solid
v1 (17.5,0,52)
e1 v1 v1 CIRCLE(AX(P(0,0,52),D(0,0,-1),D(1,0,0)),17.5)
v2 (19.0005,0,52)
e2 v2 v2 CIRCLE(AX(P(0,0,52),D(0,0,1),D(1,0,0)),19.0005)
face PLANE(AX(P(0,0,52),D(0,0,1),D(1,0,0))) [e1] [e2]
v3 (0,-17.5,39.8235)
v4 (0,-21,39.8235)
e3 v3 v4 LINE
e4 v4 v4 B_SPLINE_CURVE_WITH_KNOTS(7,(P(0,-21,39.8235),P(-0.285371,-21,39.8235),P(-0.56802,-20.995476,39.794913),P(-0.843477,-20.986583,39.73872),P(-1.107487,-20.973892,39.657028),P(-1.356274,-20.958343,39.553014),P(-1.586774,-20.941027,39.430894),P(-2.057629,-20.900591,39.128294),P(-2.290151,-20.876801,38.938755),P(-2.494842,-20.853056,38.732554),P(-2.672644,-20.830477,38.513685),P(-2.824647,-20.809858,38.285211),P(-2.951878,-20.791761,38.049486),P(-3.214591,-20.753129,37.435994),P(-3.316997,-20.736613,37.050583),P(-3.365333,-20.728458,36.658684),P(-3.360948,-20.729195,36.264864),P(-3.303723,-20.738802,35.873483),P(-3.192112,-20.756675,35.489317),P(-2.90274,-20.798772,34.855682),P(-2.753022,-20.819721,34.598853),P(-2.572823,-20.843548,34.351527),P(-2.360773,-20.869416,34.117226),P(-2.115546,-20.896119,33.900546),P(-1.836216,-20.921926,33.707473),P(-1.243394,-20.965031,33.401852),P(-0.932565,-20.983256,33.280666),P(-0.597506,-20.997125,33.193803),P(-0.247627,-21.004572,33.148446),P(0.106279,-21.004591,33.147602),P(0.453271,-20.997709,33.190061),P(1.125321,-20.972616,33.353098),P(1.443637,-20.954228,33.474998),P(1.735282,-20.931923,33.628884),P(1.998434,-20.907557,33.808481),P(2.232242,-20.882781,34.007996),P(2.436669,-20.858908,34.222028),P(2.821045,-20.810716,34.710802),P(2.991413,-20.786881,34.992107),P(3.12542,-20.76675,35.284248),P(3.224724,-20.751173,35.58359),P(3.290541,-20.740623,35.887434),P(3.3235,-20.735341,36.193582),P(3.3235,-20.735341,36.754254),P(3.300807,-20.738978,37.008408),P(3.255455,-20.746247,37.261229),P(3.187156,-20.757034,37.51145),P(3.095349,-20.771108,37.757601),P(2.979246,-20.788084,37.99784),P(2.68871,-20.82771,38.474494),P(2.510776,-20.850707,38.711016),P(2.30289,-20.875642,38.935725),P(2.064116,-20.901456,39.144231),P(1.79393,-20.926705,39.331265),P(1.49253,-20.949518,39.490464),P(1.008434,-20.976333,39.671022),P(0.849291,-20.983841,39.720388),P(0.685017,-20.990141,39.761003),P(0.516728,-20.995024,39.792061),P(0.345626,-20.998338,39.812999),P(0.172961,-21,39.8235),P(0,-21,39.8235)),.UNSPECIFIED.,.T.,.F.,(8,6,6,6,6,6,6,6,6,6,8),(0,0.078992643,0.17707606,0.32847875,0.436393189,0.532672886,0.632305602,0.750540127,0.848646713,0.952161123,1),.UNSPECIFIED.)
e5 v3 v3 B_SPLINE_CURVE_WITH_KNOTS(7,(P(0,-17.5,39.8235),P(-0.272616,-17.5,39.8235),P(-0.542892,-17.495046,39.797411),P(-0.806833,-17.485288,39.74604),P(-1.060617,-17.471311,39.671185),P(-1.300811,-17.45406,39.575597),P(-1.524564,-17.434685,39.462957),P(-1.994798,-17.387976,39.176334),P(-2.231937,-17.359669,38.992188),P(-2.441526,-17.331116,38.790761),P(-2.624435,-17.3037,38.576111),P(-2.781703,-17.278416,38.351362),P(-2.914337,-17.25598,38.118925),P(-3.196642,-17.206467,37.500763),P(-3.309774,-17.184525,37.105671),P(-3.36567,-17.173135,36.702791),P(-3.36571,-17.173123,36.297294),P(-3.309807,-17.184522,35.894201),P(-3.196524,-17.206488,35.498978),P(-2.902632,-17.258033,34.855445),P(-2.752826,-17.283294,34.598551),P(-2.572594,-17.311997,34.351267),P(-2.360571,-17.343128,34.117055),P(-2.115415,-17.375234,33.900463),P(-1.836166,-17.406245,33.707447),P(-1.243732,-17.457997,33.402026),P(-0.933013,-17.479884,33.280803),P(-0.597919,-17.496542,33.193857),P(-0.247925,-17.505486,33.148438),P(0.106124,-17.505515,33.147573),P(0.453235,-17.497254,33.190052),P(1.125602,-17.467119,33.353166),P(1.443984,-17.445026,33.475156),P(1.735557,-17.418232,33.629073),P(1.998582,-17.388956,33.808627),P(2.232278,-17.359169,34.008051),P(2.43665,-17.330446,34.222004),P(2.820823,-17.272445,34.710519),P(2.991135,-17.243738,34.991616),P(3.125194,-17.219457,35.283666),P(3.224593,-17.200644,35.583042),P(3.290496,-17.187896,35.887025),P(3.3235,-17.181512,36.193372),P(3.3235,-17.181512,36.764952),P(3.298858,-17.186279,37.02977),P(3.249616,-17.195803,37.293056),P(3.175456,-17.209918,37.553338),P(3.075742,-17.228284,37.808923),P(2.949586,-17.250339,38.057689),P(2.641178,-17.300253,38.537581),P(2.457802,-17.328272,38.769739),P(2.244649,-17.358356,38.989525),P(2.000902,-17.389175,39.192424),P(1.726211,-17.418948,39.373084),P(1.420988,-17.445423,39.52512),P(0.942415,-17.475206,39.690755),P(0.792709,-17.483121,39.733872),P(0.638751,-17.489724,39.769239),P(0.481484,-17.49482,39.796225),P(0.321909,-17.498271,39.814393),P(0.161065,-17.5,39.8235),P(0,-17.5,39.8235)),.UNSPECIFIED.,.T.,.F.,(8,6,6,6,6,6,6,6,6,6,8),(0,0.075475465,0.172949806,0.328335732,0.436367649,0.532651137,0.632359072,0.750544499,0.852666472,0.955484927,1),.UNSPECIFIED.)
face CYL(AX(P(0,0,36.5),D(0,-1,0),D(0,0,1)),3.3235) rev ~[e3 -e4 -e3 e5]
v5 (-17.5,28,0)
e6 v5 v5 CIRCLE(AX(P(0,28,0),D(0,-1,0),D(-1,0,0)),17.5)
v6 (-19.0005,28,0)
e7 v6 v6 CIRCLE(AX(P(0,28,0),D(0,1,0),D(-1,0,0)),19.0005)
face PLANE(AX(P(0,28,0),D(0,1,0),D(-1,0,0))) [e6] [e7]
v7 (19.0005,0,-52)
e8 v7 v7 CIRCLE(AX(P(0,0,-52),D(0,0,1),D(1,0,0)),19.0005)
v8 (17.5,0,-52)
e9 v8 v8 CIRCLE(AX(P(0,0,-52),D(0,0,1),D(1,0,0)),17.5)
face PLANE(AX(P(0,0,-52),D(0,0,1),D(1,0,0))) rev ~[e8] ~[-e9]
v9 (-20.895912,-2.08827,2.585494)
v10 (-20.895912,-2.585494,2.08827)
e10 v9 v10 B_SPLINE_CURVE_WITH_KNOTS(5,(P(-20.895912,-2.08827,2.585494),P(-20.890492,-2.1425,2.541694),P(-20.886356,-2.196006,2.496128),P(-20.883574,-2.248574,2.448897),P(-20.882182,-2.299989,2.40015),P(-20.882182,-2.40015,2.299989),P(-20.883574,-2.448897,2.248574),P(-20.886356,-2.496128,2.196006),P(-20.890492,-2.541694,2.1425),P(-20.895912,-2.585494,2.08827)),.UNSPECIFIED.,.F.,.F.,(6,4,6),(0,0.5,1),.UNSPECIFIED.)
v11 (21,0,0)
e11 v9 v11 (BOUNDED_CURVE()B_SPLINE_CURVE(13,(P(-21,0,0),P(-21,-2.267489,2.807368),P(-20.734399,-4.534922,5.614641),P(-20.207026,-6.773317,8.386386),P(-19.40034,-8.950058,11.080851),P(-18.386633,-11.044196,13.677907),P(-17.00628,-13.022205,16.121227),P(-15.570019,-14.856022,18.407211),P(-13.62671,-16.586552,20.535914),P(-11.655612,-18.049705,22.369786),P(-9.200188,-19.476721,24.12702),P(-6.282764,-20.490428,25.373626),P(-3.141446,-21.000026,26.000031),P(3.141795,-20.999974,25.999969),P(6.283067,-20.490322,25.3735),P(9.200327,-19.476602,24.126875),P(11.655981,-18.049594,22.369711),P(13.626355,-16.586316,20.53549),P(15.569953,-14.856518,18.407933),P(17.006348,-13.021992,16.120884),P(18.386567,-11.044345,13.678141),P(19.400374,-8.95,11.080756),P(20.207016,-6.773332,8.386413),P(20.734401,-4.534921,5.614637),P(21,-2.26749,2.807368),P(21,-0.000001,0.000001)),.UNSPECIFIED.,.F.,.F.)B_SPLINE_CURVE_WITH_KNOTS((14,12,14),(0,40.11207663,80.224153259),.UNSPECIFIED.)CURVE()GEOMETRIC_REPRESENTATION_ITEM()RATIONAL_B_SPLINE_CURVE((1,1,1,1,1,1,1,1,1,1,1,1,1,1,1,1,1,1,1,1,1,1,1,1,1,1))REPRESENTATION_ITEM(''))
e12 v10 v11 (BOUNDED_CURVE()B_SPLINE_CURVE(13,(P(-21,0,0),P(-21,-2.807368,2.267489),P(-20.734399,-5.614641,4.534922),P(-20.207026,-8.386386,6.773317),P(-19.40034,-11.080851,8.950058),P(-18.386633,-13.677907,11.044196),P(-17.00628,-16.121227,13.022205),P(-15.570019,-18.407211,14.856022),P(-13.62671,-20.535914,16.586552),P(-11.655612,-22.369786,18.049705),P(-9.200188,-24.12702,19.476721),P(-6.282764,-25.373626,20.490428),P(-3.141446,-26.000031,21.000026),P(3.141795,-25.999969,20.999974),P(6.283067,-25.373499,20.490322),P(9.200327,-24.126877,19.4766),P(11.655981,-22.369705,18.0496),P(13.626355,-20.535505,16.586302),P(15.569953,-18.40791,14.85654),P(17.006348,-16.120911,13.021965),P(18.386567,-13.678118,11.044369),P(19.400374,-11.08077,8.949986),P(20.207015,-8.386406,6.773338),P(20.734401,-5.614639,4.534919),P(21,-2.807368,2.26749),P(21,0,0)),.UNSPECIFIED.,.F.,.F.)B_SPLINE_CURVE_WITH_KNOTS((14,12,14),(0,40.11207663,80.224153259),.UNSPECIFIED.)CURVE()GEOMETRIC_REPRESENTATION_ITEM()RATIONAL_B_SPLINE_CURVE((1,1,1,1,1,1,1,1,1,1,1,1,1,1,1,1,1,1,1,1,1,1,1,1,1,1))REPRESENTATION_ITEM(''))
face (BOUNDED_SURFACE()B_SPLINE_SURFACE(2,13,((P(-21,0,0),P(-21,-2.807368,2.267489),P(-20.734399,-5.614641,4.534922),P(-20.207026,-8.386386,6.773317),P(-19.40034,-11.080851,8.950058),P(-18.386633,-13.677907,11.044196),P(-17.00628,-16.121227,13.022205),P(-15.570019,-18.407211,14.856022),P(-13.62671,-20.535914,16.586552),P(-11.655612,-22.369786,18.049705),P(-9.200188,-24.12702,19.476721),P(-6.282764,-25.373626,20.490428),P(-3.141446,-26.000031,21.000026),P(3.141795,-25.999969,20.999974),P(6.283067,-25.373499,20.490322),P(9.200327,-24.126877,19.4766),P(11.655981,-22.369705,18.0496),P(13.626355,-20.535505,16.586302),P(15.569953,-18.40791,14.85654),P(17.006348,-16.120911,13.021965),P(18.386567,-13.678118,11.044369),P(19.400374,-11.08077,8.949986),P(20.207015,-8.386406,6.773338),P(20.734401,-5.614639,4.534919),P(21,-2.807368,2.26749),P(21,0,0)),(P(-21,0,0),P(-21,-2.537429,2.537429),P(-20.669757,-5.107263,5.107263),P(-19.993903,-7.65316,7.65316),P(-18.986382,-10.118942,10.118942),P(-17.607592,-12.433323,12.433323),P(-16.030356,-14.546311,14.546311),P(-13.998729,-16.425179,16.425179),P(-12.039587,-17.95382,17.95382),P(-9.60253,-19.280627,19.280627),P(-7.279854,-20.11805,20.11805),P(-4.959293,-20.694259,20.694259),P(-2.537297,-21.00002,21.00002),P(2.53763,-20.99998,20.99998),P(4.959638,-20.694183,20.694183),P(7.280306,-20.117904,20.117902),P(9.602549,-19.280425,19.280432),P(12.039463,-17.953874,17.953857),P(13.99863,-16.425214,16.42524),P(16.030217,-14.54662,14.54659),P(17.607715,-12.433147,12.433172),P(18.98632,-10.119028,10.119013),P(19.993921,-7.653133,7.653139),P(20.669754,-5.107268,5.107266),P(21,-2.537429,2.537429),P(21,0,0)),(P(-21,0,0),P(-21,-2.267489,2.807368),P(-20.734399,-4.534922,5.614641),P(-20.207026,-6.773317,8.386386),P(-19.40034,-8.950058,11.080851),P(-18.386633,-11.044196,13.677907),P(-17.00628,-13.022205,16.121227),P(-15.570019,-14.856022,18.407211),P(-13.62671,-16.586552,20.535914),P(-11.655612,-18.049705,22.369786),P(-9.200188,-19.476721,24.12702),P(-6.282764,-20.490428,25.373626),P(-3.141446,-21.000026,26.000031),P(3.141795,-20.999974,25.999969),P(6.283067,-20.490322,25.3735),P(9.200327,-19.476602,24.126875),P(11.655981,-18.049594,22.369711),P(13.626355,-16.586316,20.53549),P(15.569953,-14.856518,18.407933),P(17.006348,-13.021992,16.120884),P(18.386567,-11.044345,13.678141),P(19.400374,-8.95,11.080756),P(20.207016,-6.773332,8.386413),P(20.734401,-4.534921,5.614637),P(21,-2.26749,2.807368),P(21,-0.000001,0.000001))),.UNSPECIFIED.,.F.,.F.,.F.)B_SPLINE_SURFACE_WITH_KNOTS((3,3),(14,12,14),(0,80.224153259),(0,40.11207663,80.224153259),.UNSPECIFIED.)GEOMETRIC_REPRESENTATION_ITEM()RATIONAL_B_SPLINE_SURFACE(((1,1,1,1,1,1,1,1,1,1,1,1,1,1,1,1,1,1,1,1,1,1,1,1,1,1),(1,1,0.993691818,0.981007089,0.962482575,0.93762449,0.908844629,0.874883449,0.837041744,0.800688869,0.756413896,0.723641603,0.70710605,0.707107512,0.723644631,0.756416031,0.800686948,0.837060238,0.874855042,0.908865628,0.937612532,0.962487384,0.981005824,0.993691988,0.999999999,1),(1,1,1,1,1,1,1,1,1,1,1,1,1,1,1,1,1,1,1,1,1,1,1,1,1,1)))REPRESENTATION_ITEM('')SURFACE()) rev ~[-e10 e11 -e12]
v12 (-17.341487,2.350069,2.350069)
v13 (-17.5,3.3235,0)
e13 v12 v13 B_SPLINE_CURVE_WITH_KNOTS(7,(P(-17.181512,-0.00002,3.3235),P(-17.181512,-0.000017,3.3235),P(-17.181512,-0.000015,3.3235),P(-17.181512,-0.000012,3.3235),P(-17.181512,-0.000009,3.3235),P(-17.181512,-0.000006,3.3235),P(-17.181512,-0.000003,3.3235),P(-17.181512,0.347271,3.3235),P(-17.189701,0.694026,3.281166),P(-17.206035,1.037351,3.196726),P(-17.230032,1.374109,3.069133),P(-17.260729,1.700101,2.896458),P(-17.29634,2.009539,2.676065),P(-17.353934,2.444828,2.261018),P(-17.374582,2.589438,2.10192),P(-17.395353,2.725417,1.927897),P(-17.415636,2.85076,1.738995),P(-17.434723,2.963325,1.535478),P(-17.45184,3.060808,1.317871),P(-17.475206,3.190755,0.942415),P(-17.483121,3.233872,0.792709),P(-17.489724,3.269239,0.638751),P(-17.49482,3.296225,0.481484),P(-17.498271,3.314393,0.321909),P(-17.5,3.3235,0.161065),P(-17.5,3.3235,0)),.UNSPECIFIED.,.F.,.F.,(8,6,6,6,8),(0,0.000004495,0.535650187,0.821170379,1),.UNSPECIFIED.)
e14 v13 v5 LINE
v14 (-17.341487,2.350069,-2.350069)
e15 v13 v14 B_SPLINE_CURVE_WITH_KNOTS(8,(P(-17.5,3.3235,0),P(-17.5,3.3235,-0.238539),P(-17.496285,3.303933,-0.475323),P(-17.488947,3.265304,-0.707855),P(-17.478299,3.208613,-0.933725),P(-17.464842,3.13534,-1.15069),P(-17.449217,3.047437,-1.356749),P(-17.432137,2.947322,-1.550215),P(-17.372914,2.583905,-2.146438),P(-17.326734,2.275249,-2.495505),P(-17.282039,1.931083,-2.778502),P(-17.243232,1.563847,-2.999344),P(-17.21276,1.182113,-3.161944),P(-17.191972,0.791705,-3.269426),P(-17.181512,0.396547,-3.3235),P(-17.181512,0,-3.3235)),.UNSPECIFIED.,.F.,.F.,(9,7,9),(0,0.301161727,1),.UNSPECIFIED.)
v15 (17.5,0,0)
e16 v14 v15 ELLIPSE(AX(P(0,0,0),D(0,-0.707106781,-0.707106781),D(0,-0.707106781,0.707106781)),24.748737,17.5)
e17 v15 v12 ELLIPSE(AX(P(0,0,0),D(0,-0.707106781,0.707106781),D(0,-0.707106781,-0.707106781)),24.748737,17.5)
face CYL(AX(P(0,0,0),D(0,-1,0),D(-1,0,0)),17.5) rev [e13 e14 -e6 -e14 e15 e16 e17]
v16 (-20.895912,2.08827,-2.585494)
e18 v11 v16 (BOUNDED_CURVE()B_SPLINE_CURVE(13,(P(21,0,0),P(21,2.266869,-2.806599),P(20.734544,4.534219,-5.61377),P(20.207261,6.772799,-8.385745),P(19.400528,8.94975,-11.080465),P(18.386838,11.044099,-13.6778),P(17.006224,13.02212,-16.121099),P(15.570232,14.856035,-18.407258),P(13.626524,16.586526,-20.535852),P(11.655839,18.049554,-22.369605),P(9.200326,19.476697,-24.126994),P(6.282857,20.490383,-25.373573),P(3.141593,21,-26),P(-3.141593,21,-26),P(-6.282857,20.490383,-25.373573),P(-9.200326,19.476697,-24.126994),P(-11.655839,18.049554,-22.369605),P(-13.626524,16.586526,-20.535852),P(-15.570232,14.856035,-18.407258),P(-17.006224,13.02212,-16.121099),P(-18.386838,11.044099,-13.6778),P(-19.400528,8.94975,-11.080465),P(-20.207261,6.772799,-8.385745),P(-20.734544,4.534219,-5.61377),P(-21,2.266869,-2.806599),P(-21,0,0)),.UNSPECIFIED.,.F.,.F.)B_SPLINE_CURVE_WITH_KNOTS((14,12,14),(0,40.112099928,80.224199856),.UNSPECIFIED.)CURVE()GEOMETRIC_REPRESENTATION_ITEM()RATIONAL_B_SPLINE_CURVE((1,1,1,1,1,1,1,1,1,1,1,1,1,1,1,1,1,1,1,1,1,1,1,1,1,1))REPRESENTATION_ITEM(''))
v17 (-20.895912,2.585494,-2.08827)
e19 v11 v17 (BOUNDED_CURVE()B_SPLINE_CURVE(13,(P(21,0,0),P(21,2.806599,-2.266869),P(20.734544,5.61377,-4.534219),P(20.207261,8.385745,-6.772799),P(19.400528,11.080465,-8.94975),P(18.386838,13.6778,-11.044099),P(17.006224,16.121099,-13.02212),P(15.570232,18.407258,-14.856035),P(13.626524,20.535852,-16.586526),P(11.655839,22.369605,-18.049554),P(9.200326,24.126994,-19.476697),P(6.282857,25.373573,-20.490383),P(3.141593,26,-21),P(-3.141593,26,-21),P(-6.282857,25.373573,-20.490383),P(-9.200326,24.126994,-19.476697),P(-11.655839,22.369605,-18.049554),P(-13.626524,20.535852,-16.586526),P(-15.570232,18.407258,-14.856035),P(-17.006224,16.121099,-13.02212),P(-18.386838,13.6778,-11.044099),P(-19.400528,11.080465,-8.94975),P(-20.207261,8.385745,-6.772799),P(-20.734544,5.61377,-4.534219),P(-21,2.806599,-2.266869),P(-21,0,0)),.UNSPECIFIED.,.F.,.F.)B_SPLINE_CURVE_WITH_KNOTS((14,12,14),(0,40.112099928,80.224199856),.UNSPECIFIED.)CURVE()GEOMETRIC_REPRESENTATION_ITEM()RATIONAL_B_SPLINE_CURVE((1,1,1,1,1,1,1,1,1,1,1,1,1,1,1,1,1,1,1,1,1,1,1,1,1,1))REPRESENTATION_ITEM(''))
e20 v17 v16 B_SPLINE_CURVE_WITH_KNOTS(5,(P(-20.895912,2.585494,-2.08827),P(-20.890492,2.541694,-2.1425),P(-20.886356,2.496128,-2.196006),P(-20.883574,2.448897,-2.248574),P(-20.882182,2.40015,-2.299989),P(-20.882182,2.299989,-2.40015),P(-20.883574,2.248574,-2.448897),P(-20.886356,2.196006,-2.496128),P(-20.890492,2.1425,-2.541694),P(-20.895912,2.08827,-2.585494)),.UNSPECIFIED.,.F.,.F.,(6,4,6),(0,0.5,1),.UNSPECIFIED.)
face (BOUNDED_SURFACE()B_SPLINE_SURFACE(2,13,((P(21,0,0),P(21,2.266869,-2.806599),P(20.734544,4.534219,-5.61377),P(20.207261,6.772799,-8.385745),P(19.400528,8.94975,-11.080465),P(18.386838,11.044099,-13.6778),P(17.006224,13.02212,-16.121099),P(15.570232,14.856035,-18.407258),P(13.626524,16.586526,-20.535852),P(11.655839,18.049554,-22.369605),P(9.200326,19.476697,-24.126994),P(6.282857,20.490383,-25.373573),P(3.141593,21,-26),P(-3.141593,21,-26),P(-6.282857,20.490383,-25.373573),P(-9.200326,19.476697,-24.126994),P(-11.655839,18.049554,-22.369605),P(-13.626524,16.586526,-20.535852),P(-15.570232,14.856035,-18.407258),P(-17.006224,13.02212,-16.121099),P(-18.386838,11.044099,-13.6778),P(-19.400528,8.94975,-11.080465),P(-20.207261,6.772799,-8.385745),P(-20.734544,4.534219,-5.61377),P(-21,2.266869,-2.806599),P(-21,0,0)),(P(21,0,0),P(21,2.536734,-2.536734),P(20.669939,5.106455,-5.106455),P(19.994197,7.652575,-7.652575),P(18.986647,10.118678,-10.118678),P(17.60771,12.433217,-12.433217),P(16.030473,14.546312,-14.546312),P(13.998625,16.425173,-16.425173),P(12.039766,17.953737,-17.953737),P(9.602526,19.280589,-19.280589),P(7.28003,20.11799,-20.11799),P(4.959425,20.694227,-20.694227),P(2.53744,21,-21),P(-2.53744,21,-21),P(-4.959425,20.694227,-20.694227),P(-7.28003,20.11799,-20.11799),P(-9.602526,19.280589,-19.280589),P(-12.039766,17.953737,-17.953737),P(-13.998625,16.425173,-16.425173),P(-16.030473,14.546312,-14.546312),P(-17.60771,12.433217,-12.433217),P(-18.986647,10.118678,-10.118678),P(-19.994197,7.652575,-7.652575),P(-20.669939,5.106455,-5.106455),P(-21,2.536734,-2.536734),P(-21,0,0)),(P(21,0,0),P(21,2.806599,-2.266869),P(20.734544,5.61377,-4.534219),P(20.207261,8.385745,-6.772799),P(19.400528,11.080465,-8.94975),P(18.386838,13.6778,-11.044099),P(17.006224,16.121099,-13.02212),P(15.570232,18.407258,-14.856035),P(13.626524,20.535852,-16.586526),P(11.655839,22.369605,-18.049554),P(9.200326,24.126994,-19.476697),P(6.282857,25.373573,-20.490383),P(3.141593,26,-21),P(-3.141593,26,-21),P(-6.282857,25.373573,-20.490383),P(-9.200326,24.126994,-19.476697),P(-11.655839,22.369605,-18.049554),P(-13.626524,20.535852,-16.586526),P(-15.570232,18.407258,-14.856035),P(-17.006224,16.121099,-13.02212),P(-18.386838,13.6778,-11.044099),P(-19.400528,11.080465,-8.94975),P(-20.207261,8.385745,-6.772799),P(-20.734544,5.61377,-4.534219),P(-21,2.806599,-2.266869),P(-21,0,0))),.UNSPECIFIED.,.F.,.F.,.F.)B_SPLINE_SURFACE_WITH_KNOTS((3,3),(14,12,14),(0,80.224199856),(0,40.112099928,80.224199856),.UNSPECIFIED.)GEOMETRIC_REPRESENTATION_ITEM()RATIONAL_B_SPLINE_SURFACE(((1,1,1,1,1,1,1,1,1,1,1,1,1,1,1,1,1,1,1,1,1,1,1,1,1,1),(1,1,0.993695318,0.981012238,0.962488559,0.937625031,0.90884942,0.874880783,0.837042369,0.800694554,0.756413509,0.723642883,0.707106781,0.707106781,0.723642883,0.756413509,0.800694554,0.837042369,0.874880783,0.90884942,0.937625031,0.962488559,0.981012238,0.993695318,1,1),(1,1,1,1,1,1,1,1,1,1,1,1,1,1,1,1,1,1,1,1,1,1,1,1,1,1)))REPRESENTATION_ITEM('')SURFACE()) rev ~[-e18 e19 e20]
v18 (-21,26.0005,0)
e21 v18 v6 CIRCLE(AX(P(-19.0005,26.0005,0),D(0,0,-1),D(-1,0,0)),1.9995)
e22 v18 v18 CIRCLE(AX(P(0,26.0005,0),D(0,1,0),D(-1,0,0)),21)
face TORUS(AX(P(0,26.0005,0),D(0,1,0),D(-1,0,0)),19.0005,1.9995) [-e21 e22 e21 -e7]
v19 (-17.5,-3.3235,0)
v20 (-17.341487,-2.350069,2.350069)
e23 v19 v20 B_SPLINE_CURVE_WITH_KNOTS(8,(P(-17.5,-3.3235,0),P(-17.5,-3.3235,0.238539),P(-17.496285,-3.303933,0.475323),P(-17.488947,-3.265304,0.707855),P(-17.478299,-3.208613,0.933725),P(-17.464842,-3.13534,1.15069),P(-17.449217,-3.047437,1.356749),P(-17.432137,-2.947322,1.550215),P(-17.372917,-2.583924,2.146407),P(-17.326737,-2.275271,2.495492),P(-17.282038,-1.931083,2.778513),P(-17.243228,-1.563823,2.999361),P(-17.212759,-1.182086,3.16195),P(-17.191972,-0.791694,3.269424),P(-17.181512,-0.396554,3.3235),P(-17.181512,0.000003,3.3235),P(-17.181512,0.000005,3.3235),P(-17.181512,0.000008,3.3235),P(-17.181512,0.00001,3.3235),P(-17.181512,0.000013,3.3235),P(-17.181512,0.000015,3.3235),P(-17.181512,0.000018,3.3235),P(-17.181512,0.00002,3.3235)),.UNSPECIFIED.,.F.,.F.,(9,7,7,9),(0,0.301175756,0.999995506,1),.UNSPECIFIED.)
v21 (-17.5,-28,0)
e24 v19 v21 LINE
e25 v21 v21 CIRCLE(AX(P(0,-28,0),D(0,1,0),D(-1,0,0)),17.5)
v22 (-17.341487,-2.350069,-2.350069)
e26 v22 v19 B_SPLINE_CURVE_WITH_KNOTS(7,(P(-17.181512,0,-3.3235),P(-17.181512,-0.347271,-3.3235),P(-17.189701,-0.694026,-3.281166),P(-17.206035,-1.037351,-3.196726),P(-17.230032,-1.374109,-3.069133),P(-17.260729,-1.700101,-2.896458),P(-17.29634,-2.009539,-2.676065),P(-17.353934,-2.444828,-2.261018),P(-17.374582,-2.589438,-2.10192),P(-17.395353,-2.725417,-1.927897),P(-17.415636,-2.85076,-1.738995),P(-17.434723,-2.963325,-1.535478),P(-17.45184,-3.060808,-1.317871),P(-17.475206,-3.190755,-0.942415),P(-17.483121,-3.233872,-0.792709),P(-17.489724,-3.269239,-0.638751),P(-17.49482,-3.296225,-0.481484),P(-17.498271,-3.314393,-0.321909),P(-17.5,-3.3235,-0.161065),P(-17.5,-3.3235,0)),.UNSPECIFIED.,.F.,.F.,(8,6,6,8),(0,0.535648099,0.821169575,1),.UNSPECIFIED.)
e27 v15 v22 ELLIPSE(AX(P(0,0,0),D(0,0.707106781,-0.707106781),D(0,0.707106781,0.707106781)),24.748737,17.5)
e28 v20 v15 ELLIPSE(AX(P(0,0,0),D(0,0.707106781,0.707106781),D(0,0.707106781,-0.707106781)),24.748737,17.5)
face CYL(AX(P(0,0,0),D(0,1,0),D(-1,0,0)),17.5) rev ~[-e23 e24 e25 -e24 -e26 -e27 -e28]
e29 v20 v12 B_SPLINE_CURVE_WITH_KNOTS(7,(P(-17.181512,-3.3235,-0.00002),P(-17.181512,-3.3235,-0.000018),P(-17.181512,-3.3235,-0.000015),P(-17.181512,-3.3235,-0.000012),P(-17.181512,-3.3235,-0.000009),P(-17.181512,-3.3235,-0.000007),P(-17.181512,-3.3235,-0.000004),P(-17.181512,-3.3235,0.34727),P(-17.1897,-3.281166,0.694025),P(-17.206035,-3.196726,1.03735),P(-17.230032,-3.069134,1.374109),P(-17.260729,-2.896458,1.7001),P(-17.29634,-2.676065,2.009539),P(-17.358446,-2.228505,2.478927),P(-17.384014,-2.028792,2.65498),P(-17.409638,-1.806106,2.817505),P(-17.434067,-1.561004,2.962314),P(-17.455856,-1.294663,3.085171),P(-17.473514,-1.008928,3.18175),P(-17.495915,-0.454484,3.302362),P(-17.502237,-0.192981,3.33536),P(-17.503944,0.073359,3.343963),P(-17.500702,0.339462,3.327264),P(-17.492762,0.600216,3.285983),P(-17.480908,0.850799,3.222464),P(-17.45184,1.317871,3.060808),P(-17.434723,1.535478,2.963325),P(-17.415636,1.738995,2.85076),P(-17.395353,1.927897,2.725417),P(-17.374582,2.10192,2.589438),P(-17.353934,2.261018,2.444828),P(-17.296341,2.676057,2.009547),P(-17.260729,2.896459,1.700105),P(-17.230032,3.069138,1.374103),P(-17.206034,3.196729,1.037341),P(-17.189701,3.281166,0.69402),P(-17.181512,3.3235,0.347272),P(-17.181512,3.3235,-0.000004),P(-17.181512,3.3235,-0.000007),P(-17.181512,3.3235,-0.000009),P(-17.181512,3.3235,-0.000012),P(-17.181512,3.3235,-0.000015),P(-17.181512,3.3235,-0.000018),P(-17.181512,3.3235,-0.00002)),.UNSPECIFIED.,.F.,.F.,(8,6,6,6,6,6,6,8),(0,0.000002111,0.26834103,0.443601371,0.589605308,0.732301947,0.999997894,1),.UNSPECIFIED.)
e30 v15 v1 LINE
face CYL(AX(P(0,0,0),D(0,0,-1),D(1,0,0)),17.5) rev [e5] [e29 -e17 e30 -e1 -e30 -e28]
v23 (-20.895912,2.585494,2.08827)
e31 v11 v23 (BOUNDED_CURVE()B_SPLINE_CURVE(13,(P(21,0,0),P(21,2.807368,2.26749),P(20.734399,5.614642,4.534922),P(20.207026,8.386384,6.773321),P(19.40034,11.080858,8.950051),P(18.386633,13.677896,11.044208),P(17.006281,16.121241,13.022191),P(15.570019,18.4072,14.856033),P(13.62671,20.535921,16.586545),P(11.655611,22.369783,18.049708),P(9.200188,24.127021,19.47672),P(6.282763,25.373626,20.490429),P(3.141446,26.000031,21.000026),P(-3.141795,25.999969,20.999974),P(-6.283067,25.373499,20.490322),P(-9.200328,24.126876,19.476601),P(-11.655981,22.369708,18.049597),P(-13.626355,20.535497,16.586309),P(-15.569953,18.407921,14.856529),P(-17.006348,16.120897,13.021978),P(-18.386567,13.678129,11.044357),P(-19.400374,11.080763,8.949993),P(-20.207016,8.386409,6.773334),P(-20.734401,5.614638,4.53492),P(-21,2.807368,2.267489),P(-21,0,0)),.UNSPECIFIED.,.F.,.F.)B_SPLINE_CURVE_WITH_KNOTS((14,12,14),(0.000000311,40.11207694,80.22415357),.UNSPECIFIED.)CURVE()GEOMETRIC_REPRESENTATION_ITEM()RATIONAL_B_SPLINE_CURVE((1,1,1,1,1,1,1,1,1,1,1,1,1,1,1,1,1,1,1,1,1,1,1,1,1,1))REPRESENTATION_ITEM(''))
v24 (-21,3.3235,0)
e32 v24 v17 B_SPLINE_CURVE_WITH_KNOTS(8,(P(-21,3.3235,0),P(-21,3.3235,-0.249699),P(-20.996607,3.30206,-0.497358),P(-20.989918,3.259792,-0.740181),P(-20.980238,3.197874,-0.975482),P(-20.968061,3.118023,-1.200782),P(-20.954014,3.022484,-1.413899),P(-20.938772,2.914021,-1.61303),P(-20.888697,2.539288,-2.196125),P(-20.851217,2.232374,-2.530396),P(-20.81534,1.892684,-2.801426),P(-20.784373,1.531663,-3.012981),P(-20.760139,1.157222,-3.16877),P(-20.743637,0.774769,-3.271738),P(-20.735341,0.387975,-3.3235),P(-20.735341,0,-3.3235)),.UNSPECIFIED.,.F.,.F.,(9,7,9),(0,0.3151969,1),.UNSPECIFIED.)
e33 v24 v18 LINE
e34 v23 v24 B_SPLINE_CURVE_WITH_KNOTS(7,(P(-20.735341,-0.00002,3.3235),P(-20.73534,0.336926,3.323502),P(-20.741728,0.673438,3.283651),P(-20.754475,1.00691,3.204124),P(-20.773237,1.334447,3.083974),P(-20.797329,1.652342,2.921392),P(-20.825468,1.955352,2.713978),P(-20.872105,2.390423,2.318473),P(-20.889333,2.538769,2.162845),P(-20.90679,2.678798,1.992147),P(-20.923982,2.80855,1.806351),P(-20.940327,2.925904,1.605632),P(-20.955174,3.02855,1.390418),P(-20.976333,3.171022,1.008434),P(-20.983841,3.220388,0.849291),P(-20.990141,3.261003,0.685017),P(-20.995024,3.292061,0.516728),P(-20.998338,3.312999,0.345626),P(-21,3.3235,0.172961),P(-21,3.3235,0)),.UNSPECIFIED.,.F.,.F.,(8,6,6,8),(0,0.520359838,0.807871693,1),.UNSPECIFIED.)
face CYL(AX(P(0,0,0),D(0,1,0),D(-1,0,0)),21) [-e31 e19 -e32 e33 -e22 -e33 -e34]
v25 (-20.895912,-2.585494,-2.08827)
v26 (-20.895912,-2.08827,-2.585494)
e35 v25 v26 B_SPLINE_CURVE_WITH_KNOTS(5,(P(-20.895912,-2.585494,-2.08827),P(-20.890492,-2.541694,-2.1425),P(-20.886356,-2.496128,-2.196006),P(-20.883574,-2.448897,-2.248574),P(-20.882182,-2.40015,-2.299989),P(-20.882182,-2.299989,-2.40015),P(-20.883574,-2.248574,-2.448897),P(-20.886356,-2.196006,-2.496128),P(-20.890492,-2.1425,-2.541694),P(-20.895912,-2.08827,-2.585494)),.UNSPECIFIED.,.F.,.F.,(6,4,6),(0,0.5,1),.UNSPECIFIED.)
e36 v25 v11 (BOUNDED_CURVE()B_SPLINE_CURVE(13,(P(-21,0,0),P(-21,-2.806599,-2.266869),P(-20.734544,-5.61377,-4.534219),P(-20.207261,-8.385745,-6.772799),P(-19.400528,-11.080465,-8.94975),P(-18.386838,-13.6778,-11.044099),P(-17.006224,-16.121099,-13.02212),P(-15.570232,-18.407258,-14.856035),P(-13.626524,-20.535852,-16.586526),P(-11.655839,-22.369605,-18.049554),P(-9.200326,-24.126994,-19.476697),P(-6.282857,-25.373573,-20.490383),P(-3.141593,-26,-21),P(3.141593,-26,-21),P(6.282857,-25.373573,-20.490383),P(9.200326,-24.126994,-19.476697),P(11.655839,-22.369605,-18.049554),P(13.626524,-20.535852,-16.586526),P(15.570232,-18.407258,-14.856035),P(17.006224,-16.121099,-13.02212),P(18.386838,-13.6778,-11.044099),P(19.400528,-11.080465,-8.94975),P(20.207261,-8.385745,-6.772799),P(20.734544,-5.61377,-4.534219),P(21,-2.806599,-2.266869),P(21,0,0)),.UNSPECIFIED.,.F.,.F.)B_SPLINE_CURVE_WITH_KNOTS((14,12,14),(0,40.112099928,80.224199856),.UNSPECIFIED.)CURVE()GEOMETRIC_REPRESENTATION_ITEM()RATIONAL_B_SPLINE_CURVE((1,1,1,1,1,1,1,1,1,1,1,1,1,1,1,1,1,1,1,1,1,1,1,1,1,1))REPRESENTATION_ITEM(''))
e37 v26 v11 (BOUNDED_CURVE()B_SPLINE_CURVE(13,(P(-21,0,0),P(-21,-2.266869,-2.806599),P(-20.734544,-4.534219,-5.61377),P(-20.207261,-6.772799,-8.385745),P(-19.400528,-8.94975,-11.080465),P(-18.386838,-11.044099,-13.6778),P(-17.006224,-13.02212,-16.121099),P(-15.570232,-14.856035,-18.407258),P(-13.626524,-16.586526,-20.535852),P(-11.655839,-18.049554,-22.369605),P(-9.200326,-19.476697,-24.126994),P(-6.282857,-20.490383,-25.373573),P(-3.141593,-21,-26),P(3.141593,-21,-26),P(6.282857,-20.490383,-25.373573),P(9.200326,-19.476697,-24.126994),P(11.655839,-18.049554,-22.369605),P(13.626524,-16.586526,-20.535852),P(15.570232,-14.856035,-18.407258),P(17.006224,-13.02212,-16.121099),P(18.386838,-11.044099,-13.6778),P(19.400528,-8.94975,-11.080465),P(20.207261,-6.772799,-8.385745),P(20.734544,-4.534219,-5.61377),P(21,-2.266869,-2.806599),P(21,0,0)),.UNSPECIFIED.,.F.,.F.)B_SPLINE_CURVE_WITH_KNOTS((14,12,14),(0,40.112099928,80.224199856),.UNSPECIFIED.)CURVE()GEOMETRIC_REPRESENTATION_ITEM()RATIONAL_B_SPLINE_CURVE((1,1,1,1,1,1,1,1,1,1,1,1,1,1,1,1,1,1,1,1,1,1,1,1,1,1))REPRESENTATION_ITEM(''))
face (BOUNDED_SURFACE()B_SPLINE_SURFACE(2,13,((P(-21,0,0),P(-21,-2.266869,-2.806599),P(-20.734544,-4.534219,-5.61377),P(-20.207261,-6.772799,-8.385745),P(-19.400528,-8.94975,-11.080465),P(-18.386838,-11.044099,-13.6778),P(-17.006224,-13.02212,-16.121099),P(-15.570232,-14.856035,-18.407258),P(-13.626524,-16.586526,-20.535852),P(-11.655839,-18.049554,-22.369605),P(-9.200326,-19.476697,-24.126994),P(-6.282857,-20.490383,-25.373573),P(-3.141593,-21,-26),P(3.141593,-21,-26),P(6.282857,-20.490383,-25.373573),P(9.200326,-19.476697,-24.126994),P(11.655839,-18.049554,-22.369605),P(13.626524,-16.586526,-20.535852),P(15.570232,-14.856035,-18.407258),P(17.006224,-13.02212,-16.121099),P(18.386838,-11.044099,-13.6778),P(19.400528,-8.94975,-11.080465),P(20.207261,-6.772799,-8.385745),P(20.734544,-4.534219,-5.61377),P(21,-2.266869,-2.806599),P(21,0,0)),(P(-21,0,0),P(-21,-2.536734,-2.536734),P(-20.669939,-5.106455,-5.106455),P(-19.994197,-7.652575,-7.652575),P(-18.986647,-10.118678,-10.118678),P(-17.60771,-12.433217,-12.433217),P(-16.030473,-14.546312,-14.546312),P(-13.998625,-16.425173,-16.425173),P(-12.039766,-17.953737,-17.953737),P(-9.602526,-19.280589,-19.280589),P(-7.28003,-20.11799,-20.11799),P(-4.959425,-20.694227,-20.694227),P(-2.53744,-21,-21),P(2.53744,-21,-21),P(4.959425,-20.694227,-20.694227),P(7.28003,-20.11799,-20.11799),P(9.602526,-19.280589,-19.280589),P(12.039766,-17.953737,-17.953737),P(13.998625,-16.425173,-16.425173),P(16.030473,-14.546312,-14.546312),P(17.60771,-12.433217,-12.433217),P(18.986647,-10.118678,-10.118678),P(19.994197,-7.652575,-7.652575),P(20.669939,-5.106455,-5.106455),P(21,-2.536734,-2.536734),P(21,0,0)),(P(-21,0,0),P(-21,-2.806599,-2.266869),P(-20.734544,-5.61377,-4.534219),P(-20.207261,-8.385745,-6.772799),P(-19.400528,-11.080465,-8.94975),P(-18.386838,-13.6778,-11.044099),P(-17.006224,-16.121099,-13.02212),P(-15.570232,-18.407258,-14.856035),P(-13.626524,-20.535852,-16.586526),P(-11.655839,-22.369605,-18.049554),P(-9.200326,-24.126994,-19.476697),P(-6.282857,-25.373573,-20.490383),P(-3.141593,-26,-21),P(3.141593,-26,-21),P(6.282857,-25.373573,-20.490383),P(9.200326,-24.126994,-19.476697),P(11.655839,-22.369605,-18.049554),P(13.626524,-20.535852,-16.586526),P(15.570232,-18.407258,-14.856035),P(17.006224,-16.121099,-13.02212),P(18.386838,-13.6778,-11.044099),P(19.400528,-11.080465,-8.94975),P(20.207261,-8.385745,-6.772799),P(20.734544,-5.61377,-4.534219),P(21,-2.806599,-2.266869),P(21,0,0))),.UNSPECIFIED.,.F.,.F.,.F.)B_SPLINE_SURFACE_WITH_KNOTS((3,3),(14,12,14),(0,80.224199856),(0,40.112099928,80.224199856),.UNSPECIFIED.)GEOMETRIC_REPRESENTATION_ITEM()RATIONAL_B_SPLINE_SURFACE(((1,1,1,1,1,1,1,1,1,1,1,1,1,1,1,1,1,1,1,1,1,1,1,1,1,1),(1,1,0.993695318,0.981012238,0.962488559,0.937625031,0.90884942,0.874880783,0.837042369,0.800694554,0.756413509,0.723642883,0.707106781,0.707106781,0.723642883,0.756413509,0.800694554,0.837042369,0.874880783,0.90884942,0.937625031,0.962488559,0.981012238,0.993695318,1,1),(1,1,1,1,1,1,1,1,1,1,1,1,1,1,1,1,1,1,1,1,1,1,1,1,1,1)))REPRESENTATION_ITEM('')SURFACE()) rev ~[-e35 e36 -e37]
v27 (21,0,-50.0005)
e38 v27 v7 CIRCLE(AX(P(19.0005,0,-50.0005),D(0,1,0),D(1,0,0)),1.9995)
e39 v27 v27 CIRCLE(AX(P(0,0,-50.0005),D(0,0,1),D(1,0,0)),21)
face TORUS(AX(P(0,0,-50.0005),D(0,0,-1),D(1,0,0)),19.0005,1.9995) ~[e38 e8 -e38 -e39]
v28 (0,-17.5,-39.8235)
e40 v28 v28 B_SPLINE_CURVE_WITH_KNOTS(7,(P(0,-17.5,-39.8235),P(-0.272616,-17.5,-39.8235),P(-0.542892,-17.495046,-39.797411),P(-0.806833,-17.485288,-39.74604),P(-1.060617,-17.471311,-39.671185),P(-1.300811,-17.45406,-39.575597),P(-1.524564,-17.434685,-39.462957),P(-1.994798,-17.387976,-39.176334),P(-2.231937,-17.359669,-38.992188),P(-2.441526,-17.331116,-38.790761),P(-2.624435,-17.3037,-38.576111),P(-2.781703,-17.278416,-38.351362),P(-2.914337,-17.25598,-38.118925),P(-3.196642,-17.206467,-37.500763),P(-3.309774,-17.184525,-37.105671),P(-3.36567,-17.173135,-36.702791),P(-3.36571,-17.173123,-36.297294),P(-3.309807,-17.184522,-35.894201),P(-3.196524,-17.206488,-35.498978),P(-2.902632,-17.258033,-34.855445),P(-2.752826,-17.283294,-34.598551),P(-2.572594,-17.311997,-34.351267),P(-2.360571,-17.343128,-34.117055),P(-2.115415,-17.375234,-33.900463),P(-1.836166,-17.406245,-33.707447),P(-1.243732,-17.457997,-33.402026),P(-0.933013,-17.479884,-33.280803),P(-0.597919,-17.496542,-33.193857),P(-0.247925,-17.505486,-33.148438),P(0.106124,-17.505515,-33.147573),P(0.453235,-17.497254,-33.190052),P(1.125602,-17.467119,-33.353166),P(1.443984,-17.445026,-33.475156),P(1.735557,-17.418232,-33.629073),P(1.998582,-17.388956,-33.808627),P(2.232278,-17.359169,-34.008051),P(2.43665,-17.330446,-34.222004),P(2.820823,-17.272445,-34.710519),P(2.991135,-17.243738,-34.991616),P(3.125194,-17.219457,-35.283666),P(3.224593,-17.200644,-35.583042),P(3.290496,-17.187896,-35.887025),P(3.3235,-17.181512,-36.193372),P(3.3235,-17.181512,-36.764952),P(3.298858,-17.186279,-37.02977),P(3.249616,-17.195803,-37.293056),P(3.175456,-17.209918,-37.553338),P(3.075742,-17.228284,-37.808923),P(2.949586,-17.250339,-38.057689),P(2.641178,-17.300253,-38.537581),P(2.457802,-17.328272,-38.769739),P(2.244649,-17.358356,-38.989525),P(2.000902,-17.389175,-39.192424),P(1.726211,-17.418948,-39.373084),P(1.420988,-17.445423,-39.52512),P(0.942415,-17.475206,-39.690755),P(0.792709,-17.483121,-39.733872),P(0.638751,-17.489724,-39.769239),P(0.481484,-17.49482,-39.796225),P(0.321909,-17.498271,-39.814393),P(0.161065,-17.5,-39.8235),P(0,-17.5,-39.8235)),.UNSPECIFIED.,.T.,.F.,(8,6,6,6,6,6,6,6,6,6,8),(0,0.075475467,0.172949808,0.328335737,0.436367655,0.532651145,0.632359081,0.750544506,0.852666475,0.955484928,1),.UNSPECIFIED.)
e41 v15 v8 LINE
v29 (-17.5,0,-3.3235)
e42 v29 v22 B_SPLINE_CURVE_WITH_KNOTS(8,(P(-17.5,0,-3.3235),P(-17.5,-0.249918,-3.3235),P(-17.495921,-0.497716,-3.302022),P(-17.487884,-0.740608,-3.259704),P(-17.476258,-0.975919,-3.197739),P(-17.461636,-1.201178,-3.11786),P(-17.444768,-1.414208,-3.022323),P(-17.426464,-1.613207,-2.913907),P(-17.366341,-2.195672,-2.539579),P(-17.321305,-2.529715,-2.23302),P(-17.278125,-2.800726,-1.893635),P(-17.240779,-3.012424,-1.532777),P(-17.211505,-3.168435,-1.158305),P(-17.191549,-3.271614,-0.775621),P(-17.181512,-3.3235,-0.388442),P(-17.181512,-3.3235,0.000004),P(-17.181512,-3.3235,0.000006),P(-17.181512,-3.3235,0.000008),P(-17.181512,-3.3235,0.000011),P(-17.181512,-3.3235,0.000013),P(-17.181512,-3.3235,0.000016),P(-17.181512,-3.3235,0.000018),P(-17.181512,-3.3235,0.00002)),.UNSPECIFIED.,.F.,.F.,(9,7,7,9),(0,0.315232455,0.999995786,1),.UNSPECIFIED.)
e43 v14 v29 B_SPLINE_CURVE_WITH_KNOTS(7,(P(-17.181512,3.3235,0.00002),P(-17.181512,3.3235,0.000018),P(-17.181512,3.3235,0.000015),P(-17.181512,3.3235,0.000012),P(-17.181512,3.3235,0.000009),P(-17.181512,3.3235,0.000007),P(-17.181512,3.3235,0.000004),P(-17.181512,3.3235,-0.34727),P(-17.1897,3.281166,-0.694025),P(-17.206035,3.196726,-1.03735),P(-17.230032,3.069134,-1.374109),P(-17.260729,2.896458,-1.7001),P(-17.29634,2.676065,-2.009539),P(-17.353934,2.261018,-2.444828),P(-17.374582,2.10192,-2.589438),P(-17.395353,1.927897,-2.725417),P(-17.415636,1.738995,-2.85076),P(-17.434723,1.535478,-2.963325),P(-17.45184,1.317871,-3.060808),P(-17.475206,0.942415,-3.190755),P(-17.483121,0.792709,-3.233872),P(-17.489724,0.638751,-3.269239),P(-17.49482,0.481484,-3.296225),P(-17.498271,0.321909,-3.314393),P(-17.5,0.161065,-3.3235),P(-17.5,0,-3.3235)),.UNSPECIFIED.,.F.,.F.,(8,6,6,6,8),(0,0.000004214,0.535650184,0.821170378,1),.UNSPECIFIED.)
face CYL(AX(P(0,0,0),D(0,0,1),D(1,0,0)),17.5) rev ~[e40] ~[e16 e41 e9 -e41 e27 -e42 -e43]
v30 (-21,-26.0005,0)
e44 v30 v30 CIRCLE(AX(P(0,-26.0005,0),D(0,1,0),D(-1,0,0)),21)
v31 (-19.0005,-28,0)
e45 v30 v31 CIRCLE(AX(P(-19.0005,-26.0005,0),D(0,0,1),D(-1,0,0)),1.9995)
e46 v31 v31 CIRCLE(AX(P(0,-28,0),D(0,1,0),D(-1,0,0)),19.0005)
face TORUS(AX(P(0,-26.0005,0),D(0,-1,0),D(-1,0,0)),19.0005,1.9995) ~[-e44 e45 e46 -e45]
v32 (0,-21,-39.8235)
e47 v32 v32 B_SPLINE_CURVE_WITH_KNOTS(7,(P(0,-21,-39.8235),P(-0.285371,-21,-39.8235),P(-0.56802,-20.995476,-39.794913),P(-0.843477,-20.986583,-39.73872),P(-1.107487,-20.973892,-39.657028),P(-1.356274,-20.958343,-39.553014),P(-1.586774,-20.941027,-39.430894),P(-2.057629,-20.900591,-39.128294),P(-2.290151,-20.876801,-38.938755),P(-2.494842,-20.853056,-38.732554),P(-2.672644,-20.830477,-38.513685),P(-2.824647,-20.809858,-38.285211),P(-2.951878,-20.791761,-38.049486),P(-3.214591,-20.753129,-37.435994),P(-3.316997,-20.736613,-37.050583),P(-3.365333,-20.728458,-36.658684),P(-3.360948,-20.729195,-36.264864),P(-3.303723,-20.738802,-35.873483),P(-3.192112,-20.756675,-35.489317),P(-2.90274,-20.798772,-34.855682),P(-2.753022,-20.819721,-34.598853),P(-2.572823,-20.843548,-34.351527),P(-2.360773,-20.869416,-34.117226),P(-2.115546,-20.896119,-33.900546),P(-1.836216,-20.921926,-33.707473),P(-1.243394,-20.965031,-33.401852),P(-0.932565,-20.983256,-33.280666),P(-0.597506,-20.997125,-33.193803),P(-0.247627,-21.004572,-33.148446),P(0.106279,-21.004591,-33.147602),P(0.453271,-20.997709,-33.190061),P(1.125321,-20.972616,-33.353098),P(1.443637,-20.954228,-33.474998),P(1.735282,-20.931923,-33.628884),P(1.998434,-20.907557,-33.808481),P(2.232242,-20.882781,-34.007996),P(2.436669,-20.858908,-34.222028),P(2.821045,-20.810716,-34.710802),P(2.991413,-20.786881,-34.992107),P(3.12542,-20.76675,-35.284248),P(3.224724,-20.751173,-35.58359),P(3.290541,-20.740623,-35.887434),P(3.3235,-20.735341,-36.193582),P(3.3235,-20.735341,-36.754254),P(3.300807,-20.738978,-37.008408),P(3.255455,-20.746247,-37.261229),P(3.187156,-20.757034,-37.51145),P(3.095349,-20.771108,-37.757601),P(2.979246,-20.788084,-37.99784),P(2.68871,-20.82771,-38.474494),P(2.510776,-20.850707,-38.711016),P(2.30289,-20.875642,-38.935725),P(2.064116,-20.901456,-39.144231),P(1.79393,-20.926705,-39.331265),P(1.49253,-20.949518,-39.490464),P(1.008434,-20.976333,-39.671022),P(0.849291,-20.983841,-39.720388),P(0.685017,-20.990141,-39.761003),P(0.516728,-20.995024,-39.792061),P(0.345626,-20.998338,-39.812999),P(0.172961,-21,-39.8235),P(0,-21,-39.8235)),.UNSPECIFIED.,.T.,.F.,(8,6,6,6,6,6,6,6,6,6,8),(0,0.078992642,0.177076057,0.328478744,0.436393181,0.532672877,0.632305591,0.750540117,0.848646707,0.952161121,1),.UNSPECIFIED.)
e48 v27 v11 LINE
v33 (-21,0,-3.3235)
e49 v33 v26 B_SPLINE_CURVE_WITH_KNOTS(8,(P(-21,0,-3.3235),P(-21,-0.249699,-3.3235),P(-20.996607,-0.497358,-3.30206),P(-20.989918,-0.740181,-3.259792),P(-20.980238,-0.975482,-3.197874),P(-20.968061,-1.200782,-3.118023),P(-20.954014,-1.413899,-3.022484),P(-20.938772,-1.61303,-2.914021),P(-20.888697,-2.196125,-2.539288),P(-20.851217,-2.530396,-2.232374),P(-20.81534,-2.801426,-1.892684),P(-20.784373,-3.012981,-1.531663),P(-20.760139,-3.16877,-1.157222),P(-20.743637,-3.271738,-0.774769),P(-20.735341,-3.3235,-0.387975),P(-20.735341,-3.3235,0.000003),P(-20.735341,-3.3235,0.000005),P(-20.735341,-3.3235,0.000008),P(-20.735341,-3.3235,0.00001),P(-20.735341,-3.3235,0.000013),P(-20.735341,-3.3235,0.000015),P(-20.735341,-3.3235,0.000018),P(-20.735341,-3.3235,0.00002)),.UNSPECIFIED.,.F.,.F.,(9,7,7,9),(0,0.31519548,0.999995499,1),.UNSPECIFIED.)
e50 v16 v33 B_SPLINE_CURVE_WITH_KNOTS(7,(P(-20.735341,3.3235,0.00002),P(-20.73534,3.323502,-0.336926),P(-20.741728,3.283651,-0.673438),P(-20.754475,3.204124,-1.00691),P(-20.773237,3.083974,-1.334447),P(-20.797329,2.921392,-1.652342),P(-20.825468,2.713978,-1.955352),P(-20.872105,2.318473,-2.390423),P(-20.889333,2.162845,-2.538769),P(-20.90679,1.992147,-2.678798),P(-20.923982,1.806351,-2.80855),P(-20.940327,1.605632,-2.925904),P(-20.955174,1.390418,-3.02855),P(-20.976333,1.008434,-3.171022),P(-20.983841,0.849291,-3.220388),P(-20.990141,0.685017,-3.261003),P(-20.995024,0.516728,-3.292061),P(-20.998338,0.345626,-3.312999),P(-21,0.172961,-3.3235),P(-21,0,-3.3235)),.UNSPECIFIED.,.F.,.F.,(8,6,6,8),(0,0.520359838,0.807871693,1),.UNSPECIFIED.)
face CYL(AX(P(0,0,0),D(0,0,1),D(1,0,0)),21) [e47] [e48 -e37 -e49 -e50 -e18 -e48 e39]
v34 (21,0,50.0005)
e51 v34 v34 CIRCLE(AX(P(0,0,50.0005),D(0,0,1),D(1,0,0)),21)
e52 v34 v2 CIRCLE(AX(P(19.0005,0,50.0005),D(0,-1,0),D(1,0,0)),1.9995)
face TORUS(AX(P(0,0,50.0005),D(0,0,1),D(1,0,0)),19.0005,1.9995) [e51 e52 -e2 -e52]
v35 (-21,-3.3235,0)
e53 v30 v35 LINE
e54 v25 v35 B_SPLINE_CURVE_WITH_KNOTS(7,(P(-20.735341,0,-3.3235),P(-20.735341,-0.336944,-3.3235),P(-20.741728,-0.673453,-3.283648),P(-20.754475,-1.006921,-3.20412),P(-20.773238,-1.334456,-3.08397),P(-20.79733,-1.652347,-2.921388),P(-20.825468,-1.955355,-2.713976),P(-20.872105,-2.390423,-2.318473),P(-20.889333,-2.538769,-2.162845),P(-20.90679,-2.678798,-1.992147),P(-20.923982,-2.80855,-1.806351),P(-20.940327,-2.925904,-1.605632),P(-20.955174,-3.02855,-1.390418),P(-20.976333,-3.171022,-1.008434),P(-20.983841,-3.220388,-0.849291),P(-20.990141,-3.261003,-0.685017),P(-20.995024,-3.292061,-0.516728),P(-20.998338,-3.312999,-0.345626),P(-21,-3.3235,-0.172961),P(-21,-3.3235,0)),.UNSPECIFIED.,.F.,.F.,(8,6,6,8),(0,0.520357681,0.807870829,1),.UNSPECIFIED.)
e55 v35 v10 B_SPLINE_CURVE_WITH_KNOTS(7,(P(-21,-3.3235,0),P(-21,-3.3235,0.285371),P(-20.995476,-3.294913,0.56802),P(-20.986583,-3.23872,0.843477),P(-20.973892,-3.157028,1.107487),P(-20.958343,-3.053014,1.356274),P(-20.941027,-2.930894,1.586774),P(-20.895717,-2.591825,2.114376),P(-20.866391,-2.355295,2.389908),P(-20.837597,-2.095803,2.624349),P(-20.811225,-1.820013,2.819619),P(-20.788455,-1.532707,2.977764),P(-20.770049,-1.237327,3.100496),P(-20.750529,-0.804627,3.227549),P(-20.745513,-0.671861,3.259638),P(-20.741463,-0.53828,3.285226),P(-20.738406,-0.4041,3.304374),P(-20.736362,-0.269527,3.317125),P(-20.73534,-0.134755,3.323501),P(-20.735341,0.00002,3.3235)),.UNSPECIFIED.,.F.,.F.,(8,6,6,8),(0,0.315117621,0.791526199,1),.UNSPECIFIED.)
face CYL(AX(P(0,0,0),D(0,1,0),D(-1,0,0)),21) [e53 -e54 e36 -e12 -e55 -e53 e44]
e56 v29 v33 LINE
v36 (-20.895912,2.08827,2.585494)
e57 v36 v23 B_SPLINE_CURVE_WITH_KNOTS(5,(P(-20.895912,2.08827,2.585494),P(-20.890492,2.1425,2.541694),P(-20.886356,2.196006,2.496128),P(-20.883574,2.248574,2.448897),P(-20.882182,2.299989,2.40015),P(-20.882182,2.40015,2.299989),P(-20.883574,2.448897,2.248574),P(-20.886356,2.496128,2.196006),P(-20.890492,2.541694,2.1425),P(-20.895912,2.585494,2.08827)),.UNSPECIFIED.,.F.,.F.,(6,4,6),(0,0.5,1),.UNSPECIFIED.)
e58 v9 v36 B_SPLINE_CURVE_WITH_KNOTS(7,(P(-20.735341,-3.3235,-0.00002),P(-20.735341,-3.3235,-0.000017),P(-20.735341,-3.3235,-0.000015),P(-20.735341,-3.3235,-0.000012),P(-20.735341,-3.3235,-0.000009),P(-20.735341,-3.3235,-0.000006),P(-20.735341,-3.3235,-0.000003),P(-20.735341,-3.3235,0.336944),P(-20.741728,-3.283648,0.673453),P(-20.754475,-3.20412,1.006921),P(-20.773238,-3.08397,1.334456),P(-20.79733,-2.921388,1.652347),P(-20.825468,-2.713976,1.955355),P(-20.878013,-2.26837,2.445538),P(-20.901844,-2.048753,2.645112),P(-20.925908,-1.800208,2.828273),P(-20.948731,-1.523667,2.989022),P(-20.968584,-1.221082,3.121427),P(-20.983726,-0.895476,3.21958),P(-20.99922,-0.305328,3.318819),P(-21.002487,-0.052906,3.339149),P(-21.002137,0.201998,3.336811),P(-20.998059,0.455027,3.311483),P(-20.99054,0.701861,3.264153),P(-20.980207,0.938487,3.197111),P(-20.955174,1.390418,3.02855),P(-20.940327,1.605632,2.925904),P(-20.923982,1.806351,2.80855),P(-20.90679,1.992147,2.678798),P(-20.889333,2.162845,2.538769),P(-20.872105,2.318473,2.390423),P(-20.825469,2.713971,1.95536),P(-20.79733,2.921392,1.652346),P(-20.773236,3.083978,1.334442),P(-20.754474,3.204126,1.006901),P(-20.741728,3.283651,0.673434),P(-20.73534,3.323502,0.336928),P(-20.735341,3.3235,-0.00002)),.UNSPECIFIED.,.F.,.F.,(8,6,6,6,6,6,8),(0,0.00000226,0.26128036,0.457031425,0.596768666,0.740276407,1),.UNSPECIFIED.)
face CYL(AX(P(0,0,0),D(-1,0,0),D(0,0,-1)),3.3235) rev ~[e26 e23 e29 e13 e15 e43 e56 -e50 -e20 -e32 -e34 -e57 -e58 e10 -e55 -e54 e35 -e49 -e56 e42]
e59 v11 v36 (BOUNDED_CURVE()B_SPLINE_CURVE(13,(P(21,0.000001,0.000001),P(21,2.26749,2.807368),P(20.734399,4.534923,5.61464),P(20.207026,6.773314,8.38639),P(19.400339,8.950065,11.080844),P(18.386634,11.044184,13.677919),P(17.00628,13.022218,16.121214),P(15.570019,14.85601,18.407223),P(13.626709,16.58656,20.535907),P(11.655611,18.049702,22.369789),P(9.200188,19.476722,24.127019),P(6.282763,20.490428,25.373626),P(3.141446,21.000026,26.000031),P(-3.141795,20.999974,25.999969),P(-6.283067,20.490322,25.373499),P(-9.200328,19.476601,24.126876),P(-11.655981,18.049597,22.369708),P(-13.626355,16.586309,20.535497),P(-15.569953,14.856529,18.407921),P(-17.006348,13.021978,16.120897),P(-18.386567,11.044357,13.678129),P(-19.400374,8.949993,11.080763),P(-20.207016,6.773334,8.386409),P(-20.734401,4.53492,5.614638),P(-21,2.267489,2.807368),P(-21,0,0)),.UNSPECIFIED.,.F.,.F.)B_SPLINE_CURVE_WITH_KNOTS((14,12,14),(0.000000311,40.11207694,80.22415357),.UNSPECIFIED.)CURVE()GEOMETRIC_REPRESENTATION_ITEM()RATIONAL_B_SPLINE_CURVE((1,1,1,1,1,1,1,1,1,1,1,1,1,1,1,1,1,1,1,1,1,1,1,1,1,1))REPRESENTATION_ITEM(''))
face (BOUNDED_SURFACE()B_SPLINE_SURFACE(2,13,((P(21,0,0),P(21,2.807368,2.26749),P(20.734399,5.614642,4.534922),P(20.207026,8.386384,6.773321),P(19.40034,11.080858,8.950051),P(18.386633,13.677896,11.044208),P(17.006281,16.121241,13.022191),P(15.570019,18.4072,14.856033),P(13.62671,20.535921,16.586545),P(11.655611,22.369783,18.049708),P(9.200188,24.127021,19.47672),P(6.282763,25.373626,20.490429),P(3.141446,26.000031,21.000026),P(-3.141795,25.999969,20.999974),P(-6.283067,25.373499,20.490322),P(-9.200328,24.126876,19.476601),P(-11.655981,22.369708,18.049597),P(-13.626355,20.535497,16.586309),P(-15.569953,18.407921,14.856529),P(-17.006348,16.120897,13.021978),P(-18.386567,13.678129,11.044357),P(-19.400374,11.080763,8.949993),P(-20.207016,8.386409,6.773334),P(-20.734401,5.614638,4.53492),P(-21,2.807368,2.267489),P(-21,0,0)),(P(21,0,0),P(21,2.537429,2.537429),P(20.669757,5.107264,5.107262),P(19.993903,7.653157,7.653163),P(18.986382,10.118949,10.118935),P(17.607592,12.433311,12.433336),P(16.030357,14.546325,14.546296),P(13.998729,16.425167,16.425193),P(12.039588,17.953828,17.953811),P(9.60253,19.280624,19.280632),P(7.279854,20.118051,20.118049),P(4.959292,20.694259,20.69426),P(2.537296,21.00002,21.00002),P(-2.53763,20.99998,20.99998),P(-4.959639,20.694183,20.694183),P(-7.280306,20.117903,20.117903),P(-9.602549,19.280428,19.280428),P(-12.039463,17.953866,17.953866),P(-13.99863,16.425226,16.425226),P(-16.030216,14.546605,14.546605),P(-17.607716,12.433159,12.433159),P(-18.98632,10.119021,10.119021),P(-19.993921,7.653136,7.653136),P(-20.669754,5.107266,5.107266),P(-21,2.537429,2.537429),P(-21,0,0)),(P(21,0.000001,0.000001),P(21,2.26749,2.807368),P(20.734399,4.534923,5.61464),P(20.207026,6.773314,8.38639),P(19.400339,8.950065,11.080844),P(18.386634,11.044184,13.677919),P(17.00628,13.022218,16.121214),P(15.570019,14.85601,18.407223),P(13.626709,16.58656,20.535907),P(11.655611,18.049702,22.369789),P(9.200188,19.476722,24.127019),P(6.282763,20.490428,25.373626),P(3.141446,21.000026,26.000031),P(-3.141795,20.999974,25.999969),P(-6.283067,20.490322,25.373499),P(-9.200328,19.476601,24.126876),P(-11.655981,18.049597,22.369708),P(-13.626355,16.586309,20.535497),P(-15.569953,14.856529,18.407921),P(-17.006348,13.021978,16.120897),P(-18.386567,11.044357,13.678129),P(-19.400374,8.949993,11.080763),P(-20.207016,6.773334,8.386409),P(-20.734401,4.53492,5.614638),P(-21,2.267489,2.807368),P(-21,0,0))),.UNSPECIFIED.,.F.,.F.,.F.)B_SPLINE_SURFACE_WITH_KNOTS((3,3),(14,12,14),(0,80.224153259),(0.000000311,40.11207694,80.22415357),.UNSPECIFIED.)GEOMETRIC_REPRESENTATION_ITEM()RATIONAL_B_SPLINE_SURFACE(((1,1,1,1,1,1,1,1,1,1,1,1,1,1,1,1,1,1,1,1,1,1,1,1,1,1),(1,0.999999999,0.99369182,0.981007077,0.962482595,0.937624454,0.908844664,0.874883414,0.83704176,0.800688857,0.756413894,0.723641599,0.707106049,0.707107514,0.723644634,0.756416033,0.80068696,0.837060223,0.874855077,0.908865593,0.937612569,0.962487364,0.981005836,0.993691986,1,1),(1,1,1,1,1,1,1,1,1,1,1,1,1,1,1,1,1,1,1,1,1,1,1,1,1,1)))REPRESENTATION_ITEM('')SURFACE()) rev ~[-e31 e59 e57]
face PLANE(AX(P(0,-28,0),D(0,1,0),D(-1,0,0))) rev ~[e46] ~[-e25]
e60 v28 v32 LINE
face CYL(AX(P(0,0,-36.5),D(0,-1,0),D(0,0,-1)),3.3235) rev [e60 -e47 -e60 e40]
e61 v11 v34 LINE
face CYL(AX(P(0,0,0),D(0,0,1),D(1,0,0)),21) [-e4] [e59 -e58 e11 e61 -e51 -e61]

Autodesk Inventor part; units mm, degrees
ref_plane "XY Plane" through (0, 0, 0) normal (0, 0, 1) x (1, 0, 0)
sketch "Sketch1" plane through (0, 0, 0) normal (0, 0, 1) x (1, 0, 0)
  circle A0 centre (0, 0) radius 17.5
  circle A1 centre (0, 0) radius 21
  dimension "d1" = 42
  dimension "d2" = 35
extrude "Extrusion1" add sketch "Sketch1" along normal mid plane 104 contours A0 | A1
sketch "Sketch2" plane through (0, 0, 0) normal (0, 1, 0) x (-1, 0, 0)
  circle A0 centre (0, 0) radius 17.5
  circle A1 centre (0, 0) radius 21
  dimension "d5" = 35
  dimension "d6" = 42
extrude "Extrusion2" add sketch "Sketch2" along normal mid plane 56 contours A0 | A1
extrude "Extrusion3" cut sketch "Sketch2" along normal through all both and the other way through all contours A0
extrude "Extrusion4" cut sketch "Sketch1" along normal through all both and the other way through all contours A0
fillet "Fillet1" radius 5 4 edges at (0, 21, 21) (0, -21, 21) (0, 21, -21) (0, -21, -21)
hole "Hole1" at (0, 0, 0) direction (-1, 0, 0) diameter 6.647 end through all thread size "M8x1.25" class "6H" standard "ISO Metric profile"
ref_plane "Work Plane1" through (0, 0, 36.5) normal (0, 0, 1) x (1, 0, 0)
hole "Hole2" at (0, 0, 36.5) direction (0, -1, 0) diameter 6.647 end through all thread size "M8x1.25" class "6H" standard "ISO Metric profile"
mirror "Mirror1" about plane through (0, 0, 0) normal (0, 0, 1) of "Hole2"
fillet "Fillet2" radius 2 4 edges at (-21, 0, 52) (21, 28, 0) (21, -28, 0) (-21, 0, -52)
equation "\"d5\" = d2"
equation "\"d6\" = d1"
equation "\"d23\" = -0.25 * d3 + 0.25 * d1"
equation "\"d3\" = 104"
properties part number "L26-6"
